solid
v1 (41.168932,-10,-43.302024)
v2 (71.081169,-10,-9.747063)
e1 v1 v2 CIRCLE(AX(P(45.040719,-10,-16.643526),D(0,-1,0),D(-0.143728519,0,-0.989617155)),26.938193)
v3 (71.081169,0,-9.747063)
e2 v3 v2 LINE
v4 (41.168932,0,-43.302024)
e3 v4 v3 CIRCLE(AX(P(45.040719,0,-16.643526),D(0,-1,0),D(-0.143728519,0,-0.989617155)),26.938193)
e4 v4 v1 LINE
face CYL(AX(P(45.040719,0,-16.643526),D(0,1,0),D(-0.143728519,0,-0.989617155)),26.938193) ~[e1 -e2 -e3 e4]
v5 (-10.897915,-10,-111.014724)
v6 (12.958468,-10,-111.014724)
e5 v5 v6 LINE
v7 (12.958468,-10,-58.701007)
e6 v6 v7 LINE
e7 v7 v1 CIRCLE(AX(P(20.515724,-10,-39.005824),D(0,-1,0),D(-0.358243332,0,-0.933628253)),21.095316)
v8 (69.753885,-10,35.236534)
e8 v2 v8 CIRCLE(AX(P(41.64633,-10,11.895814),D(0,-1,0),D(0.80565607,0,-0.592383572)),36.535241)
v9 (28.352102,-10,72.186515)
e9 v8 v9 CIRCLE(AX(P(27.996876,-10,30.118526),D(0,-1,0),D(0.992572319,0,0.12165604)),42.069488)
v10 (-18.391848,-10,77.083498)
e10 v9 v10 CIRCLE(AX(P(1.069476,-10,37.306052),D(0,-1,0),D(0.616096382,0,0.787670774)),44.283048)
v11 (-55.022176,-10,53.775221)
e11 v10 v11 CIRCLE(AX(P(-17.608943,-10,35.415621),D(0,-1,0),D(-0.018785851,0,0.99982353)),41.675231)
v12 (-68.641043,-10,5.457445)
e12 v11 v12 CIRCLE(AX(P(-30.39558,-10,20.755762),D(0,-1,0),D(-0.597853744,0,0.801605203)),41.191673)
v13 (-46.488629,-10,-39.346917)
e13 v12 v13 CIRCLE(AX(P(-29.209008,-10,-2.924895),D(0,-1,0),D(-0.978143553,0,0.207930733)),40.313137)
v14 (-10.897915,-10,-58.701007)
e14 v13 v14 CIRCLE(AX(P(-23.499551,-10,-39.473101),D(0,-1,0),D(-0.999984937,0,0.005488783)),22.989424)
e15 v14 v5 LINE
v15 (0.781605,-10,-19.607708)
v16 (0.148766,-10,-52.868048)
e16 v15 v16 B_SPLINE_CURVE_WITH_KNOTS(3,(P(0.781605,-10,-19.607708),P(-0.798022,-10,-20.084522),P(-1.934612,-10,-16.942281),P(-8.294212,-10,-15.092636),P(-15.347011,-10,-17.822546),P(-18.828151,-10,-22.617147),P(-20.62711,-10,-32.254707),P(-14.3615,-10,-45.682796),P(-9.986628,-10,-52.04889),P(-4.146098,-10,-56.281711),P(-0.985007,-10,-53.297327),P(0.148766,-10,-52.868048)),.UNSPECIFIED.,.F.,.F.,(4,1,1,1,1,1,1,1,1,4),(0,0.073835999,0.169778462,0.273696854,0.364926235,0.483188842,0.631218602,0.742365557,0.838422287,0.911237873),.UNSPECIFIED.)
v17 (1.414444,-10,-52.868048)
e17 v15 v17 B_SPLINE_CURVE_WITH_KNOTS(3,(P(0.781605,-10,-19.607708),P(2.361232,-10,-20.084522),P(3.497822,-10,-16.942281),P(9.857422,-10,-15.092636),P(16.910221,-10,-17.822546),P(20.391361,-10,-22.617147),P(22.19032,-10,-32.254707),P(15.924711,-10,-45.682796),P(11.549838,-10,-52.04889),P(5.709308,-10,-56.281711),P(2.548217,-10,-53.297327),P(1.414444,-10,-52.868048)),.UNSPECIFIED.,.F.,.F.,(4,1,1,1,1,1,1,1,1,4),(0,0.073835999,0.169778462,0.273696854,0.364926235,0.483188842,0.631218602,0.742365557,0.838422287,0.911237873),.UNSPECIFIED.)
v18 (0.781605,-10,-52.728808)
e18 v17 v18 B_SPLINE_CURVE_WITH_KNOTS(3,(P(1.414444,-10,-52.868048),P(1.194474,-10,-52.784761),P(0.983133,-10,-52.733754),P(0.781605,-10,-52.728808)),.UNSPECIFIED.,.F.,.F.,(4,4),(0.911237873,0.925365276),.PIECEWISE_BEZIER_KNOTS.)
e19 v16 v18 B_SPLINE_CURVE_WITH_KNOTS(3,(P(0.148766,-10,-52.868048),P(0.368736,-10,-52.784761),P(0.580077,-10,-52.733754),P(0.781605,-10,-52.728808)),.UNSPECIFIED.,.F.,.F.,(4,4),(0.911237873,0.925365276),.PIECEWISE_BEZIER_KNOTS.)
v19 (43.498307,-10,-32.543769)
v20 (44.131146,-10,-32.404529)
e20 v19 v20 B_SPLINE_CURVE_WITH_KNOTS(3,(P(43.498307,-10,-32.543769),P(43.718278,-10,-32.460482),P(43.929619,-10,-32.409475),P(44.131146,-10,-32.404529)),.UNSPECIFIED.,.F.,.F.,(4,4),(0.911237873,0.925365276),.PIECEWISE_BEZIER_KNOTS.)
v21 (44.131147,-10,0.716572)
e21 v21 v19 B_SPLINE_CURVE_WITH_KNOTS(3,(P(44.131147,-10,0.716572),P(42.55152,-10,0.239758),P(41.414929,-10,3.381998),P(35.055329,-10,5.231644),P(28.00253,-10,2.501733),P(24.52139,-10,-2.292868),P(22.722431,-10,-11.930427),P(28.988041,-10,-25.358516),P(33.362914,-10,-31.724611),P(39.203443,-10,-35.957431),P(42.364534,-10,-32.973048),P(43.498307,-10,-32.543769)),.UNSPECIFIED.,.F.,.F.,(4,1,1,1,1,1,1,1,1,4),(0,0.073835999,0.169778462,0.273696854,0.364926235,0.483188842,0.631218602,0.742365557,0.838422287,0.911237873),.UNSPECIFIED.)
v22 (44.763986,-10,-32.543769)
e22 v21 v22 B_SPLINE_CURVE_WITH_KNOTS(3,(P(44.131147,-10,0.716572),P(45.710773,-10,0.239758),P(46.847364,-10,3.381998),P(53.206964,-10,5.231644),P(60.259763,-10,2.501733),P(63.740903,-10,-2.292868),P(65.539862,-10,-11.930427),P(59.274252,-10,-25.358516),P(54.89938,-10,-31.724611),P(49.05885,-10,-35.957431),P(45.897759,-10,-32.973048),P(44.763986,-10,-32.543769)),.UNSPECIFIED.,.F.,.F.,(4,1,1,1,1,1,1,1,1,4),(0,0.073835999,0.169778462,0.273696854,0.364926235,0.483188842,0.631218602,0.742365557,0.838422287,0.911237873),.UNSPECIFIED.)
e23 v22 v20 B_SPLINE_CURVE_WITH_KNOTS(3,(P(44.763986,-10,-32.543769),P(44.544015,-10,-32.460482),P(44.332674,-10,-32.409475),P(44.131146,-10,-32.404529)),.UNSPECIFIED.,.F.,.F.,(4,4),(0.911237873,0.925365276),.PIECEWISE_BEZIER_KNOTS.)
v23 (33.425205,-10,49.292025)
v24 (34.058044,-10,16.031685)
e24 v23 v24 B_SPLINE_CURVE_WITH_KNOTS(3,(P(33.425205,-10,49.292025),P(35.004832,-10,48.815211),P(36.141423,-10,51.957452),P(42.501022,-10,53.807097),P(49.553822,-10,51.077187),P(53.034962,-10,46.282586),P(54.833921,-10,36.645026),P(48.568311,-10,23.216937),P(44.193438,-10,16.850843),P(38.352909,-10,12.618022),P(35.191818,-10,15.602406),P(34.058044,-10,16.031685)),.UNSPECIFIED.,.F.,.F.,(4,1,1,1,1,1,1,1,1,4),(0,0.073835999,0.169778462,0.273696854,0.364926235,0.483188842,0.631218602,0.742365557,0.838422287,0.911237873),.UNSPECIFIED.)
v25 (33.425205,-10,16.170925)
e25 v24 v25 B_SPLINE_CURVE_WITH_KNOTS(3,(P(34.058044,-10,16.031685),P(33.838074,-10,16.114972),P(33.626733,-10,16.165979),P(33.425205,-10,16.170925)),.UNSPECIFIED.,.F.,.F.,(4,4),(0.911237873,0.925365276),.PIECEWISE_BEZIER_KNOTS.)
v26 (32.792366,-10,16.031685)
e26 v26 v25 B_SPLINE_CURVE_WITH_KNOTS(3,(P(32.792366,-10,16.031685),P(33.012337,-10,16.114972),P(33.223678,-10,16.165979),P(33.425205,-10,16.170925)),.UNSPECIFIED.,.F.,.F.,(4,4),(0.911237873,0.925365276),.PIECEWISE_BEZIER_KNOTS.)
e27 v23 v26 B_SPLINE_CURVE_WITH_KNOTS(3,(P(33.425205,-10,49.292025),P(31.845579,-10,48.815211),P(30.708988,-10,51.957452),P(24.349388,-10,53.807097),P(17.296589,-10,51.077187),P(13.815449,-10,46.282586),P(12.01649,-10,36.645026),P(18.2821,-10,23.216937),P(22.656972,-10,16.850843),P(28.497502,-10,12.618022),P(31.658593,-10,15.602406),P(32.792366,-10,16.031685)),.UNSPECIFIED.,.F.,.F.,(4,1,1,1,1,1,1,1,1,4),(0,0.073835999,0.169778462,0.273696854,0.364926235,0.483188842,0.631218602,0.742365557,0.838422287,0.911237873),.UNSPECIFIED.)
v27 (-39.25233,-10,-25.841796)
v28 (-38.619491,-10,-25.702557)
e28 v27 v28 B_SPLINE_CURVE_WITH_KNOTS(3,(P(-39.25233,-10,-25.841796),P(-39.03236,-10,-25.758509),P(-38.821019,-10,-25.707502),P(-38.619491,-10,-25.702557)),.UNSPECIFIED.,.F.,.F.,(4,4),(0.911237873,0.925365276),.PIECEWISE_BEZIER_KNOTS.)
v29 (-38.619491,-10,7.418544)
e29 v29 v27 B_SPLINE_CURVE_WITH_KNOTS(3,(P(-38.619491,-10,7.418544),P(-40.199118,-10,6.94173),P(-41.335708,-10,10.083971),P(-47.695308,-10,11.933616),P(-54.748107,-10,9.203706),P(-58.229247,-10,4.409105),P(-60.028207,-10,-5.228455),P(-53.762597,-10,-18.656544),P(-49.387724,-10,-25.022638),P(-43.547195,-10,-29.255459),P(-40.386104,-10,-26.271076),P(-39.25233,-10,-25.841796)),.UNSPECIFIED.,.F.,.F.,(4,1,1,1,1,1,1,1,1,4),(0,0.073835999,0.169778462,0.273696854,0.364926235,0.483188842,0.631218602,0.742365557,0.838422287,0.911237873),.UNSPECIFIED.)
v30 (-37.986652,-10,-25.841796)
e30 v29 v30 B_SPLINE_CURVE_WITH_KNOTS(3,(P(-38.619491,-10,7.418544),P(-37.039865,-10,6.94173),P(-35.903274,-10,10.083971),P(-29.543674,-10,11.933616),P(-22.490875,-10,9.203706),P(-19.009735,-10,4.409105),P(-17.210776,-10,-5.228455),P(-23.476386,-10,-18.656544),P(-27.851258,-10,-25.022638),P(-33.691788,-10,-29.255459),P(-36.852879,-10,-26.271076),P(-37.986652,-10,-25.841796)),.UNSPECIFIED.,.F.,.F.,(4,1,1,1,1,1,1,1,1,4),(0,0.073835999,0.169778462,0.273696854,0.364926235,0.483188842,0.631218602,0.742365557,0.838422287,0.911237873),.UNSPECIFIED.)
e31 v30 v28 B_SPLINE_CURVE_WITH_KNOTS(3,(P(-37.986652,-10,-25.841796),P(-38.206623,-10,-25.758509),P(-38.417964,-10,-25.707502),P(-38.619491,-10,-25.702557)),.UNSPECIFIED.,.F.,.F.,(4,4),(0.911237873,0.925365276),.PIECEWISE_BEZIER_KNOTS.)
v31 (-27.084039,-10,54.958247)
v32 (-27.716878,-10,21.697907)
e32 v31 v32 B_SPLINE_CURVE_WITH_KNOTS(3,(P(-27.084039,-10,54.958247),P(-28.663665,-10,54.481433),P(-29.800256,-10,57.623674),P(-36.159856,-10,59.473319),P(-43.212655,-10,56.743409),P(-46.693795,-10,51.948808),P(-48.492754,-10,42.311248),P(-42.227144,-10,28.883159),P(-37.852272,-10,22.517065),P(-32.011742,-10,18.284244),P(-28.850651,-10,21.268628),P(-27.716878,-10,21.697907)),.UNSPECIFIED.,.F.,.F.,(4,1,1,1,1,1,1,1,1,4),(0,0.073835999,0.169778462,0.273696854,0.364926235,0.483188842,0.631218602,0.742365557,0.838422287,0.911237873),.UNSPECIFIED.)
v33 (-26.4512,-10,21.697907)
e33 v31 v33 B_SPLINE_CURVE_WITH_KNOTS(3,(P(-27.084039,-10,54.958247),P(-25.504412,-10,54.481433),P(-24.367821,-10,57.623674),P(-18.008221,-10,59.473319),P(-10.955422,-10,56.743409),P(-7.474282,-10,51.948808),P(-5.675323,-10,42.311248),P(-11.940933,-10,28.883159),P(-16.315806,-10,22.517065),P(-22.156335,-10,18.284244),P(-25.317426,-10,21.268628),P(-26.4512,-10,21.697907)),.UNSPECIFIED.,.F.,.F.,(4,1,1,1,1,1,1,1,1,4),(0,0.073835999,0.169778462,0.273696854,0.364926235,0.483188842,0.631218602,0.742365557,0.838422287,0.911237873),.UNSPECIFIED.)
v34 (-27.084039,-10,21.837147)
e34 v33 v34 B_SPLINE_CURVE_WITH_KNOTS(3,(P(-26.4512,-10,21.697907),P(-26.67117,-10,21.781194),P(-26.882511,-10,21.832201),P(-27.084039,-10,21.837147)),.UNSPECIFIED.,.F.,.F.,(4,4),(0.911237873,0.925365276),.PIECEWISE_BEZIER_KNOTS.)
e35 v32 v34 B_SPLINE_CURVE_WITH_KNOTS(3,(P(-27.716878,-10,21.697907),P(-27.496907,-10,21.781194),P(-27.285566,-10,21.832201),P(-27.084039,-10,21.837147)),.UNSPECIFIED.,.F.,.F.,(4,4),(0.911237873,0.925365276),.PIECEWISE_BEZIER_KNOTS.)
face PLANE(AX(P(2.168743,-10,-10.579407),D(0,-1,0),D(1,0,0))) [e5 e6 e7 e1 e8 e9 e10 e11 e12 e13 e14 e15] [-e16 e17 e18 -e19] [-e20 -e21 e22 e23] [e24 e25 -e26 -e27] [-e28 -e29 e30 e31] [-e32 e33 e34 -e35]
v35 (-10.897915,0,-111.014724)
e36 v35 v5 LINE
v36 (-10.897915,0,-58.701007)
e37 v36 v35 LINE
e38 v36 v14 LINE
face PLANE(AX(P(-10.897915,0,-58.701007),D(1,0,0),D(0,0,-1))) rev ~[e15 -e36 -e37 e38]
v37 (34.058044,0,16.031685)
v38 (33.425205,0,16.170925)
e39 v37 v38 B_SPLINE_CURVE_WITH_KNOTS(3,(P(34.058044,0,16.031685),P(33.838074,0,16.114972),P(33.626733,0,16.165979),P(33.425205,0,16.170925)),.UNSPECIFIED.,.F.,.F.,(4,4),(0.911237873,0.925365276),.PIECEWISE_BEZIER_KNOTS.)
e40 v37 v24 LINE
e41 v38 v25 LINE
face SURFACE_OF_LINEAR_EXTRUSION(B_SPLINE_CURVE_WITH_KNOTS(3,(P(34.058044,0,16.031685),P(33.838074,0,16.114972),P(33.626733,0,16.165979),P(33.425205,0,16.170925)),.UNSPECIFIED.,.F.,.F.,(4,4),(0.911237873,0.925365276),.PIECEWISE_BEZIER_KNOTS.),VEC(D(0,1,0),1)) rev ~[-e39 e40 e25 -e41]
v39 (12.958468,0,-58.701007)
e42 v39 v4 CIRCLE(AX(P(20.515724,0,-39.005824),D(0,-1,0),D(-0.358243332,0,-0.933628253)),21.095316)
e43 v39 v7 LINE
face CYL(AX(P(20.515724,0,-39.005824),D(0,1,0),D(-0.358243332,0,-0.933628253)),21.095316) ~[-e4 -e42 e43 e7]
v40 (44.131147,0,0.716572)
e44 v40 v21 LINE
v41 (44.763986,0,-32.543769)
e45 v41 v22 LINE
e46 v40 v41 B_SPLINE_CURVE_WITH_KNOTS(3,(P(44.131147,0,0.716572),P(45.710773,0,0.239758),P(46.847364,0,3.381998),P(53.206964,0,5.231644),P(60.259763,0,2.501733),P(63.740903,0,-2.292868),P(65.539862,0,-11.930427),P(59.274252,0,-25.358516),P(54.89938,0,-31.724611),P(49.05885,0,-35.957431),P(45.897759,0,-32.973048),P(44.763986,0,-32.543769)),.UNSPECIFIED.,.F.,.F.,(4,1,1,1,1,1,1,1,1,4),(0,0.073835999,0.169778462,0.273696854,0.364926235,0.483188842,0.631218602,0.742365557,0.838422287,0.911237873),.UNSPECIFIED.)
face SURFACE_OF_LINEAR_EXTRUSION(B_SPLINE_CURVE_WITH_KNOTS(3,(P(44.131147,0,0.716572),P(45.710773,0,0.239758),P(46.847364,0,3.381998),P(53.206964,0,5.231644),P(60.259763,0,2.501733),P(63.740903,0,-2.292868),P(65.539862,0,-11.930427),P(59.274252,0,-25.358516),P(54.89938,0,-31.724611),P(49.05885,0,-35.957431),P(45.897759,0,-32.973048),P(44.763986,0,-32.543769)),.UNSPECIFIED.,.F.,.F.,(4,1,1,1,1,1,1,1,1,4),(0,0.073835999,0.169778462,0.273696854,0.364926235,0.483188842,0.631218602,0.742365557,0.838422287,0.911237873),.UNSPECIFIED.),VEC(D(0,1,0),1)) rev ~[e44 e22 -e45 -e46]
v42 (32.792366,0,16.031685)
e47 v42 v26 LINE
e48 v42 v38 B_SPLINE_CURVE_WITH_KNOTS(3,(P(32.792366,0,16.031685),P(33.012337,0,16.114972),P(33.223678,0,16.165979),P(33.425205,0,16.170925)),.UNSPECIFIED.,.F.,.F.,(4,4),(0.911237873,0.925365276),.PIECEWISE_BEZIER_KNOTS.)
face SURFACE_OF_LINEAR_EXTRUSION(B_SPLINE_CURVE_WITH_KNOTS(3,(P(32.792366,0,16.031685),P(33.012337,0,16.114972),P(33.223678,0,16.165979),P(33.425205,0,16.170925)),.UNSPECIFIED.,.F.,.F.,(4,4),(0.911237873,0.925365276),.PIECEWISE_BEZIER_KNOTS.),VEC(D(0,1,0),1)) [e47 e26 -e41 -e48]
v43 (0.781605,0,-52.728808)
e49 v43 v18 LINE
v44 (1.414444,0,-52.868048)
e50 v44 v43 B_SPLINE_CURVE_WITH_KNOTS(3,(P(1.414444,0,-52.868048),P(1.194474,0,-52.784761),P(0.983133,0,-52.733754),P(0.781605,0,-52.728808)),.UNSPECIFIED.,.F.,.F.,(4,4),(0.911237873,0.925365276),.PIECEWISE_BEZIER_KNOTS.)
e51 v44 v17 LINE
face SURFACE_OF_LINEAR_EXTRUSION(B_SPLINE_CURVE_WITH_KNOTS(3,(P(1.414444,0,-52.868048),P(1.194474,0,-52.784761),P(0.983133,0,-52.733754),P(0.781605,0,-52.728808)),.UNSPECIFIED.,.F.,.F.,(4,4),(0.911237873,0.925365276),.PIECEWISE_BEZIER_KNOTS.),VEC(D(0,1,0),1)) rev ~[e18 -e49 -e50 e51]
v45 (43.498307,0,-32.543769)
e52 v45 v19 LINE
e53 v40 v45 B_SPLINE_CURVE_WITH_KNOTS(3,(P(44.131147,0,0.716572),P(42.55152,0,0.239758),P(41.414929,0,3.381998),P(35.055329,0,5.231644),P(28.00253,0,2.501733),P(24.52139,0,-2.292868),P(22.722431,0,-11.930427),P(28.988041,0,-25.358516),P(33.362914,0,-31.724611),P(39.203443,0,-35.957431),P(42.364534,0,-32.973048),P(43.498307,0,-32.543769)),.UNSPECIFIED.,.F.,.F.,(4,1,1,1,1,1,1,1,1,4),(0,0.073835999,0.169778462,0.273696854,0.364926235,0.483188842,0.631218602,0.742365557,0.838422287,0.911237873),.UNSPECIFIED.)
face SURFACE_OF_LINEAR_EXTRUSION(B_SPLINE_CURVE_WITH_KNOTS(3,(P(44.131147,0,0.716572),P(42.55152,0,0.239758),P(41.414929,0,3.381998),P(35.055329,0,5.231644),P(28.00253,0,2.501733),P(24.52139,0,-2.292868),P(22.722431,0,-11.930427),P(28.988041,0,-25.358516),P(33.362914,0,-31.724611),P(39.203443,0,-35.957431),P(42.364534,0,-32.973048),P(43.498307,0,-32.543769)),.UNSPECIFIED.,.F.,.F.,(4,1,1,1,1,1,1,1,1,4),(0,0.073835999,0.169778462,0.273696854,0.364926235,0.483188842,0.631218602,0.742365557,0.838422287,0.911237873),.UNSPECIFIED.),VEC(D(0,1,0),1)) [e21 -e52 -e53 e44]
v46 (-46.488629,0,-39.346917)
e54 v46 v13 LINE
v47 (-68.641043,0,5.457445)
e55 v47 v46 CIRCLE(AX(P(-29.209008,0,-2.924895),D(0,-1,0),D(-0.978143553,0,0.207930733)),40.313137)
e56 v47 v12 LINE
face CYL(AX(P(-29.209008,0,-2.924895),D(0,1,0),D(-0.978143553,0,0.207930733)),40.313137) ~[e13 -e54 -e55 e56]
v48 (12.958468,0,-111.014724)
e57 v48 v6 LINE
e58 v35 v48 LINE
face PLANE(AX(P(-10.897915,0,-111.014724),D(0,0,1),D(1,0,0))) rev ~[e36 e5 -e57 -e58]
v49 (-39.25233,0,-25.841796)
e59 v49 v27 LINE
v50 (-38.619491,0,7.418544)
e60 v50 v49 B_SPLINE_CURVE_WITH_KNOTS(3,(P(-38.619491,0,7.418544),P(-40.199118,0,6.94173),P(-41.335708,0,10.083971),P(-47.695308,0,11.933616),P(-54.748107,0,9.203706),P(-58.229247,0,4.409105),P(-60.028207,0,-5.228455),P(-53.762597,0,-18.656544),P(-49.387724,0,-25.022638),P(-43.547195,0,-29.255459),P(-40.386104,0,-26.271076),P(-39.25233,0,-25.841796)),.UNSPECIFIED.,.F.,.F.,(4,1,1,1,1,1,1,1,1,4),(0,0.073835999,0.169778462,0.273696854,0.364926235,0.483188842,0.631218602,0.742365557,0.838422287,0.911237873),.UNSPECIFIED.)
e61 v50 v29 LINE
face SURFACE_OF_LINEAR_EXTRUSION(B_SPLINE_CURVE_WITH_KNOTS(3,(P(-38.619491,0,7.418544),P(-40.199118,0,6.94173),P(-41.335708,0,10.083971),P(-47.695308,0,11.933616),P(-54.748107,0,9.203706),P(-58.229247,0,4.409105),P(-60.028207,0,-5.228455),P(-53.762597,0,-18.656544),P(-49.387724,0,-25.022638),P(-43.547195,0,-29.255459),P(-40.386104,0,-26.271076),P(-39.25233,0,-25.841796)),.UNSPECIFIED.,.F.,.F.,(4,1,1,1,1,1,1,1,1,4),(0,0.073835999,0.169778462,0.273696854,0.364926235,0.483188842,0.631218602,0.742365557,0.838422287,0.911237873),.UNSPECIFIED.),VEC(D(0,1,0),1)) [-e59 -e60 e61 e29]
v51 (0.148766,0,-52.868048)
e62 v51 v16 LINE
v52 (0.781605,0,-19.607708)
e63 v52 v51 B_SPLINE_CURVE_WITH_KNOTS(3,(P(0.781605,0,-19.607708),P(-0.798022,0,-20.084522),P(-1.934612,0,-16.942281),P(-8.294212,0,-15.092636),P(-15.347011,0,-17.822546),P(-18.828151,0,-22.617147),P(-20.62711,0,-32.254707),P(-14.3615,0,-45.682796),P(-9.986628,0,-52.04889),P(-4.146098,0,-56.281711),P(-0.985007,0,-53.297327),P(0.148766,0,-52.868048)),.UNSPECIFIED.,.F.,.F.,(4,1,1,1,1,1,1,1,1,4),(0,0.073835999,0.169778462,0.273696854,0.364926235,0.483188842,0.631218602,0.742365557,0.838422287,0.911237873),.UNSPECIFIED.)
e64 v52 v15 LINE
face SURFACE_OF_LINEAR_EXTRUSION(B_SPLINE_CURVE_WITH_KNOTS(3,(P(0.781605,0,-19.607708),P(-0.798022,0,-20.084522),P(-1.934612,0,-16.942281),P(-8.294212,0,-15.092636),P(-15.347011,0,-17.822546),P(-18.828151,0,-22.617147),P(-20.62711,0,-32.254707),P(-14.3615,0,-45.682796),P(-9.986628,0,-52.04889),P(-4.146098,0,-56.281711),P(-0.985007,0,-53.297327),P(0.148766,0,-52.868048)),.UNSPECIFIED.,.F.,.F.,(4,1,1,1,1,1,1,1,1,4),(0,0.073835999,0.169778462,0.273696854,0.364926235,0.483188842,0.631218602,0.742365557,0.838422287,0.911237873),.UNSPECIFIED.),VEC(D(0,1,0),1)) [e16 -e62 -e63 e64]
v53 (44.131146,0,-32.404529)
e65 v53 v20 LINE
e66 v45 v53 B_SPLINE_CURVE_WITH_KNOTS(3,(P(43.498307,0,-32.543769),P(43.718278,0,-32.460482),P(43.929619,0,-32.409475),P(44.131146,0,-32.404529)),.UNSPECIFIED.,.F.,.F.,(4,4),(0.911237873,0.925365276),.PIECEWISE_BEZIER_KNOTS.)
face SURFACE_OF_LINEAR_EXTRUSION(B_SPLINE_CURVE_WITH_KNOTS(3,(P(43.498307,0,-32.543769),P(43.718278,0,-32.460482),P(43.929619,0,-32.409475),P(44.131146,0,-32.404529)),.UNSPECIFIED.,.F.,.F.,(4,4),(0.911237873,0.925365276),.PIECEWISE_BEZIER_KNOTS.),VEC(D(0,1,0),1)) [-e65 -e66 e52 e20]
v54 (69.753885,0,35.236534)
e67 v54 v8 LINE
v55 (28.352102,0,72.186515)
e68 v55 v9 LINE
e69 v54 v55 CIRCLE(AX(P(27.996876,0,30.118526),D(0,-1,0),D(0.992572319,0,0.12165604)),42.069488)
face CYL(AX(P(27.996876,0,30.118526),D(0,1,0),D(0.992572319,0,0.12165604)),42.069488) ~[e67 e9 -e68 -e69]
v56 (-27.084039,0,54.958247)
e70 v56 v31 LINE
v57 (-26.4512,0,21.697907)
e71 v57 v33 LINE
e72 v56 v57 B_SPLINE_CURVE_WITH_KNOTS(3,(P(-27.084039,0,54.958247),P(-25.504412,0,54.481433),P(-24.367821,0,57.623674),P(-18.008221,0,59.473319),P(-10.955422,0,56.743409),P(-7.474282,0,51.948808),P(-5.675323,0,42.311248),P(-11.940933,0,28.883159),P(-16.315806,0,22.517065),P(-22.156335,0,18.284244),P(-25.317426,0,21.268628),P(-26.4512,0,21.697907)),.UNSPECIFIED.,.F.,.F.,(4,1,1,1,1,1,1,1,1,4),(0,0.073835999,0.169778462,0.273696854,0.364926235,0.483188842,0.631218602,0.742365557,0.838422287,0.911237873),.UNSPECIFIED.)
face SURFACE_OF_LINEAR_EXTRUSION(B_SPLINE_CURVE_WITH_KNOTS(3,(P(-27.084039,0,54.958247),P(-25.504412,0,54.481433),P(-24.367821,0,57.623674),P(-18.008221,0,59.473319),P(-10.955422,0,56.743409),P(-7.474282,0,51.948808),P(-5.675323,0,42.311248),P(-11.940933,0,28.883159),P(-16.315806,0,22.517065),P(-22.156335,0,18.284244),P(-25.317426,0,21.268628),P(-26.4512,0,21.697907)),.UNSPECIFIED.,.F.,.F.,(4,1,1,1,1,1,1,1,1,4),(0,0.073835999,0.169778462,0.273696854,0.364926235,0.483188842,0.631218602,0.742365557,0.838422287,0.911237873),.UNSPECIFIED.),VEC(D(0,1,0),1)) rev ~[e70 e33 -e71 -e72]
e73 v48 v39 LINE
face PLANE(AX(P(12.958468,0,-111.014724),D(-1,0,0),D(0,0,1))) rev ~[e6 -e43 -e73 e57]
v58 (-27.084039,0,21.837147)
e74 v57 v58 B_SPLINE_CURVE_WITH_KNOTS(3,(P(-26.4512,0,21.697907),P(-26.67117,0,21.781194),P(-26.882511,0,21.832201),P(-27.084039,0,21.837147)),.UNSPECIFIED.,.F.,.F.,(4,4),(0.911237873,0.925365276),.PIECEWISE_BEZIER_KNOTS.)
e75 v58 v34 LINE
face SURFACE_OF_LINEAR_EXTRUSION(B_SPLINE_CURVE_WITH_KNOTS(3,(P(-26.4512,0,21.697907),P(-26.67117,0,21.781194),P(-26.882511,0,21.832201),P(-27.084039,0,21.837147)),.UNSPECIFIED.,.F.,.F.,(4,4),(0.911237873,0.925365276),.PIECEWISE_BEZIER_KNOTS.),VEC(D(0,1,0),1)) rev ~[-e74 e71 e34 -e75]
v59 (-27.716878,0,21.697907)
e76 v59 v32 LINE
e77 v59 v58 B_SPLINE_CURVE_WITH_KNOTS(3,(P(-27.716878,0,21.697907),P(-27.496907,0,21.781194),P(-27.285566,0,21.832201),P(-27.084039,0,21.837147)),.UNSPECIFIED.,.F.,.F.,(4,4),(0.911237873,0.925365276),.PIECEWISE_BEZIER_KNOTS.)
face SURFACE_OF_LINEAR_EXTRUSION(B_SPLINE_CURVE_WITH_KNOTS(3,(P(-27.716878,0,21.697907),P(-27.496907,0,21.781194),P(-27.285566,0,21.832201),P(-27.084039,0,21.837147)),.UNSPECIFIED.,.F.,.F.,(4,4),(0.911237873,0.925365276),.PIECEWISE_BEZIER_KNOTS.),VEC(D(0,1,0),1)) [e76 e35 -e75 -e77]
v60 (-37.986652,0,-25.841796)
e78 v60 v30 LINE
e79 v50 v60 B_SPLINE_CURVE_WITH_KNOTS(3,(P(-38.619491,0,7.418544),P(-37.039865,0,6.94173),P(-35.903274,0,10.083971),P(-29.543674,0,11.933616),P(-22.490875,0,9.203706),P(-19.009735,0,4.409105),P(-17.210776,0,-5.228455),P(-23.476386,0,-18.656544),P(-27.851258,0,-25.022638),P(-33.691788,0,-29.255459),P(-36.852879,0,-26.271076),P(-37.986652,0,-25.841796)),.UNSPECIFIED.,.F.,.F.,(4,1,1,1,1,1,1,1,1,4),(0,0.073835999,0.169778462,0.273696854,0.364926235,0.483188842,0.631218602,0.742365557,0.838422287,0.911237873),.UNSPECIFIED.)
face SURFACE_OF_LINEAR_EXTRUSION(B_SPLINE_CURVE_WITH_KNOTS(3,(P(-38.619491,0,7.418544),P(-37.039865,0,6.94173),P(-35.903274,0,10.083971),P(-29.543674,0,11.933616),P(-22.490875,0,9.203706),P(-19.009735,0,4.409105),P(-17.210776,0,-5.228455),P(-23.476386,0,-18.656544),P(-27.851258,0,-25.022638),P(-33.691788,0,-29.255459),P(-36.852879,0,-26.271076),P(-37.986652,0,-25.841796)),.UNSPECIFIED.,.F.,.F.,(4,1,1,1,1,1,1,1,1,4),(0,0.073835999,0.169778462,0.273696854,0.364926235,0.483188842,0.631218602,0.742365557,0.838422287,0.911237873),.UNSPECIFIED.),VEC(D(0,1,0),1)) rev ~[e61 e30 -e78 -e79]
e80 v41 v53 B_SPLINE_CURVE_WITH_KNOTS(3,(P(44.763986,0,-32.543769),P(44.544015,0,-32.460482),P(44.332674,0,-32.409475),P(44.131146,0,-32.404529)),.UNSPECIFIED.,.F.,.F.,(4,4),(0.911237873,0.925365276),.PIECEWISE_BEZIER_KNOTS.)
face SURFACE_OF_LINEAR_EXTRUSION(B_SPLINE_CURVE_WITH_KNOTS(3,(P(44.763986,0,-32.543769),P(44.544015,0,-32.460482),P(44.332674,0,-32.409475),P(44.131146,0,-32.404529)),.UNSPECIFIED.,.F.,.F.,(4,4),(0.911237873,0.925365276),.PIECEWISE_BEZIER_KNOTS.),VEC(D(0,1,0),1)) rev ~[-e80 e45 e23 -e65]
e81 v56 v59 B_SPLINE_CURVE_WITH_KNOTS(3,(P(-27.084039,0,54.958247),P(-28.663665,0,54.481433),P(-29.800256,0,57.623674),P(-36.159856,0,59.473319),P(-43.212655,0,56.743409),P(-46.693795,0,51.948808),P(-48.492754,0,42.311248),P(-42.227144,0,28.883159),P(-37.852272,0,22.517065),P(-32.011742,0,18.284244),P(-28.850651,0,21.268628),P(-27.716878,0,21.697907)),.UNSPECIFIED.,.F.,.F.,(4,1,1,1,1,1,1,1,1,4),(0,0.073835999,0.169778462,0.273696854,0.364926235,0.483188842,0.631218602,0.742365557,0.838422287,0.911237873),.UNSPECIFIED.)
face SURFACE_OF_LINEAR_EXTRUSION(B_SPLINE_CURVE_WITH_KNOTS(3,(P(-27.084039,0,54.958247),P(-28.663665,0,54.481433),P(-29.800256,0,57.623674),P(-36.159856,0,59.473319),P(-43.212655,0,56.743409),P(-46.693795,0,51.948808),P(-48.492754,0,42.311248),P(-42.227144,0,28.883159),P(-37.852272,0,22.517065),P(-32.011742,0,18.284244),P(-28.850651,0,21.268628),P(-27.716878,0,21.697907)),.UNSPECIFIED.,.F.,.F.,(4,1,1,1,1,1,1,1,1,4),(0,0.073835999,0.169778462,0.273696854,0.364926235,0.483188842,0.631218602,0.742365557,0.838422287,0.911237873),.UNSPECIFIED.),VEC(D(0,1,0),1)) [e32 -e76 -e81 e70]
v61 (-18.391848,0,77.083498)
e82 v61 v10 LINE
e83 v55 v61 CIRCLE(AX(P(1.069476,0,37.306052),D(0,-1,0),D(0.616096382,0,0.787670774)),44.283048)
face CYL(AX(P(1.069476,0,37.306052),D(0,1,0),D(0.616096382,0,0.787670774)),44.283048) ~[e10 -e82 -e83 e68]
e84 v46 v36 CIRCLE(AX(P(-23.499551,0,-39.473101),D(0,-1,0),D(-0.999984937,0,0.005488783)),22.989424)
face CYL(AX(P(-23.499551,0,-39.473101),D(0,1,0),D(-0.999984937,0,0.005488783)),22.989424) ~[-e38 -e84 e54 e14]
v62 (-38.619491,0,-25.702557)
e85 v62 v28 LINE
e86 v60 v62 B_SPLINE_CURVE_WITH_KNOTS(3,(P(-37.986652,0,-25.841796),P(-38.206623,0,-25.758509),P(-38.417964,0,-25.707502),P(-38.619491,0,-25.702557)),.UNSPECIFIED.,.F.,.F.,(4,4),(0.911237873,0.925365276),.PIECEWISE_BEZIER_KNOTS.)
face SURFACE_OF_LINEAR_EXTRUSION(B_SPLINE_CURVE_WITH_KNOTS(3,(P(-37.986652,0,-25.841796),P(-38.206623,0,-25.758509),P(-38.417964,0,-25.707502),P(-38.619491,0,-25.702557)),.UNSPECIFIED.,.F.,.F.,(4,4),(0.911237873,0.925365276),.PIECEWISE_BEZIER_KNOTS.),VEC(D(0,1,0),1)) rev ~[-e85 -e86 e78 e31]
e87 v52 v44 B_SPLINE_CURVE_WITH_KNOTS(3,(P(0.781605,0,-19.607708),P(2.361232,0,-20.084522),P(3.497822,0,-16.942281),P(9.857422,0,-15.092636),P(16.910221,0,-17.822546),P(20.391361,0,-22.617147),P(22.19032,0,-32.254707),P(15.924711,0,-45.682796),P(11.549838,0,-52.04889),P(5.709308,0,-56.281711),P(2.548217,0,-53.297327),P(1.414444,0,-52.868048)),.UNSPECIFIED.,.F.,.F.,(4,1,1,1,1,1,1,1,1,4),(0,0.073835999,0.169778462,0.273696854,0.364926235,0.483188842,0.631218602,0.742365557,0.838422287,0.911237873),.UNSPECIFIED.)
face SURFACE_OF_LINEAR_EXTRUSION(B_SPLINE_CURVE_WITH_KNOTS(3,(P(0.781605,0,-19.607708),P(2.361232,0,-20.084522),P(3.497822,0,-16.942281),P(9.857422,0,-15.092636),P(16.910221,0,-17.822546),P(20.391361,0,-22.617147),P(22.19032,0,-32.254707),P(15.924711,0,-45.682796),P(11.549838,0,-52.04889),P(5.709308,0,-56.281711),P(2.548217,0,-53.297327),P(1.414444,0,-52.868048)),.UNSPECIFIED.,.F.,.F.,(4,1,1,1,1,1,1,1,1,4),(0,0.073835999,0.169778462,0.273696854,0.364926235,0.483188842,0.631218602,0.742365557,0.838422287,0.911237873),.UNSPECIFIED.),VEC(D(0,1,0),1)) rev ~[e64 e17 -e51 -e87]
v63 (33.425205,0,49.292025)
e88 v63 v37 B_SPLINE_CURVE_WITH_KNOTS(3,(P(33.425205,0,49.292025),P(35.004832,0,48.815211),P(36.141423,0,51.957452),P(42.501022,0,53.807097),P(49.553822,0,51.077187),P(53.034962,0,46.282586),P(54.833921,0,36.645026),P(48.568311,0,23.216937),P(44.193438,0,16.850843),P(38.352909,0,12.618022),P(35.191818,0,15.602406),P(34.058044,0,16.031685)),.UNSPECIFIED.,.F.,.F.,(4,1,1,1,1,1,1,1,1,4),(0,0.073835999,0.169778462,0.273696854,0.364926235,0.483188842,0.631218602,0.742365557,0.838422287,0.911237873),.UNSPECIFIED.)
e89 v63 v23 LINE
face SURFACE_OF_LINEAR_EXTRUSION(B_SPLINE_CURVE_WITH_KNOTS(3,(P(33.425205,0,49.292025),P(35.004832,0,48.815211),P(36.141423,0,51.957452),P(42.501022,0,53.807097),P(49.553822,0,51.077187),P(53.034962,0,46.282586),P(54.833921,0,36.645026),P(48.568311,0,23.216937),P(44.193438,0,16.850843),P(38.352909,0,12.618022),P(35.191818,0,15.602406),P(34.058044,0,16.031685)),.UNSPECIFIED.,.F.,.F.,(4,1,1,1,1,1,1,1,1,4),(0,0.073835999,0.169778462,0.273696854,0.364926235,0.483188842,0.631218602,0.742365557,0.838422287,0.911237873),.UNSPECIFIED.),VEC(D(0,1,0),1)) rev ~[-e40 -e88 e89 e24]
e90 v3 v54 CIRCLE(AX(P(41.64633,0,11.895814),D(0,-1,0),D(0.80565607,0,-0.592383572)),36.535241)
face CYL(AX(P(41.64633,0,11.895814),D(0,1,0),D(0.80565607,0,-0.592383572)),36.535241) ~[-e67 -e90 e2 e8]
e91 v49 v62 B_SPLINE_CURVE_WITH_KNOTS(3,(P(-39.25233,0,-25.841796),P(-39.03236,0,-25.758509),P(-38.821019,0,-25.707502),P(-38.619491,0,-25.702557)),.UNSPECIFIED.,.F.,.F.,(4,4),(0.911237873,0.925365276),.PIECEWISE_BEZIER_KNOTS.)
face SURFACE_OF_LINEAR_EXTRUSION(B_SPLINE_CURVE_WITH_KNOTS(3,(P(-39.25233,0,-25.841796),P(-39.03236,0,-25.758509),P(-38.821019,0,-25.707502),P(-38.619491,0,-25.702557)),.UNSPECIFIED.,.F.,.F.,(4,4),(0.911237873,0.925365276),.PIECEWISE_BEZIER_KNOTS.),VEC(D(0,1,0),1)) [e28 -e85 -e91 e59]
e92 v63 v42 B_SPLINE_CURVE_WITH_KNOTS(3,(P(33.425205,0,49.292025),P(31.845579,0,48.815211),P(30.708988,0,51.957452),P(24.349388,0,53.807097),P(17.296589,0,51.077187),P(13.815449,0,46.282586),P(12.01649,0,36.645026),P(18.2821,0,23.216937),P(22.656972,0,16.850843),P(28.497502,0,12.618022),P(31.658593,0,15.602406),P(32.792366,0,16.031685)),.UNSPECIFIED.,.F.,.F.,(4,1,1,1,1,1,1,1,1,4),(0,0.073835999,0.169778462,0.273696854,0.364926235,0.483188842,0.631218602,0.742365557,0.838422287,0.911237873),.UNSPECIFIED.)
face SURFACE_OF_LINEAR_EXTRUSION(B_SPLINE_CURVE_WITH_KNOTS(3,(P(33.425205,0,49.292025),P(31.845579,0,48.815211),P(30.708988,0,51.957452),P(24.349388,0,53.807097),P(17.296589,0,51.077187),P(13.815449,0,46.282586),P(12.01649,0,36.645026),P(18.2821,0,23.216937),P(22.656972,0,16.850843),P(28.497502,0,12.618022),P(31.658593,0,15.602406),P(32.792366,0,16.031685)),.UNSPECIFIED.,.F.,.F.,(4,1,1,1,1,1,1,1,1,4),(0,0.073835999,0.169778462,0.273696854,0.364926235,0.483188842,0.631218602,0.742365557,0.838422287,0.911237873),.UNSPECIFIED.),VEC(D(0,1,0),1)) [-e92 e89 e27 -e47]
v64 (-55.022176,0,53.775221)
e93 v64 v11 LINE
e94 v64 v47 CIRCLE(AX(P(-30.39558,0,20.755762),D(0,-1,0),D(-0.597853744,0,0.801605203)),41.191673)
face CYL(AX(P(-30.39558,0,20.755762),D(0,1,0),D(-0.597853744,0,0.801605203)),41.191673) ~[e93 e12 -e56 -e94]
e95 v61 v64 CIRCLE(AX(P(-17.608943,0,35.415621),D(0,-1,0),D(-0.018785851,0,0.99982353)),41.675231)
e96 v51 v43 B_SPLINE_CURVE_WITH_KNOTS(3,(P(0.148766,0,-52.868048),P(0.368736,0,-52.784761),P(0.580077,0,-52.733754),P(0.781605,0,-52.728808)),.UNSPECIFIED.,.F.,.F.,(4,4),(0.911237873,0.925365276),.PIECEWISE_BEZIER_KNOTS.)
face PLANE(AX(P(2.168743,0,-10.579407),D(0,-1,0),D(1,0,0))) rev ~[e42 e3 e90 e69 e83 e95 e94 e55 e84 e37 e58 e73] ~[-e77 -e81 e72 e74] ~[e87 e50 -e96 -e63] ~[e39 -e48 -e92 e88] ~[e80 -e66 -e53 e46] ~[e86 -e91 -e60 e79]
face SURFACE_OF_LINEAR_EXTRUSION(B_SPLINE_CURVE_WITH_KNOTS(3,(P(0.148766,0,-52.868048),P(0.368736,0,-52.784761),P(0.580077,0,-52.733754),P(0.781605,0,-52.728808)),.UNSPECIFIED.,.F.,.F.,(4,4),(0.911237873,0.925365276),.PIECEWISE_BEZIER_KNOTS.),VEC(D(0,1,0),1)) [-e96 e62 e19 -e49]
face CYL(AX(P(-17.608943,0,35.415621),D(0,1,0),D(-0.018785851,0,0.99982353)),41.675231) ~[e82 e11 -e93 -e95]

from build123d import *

# Parameters (mm, degrees)
F1_DEPTH = 10


with BuildPart() as f1:
    # F0 (on Front) → F1 (new body)
    with BuildSketch(Plane.XZ):
        with BuildLine():
            ThreePointArc((-55.0221759697, 53.7752209797), (-70.04246905, 31.9306491766), (-68.6410428362, 5.4574452519))
            ThreePointArc((-68.6410428362, 5.4574452519), (-65.3463944848, -20.7921357055), (-46.4886293933, -39.346916867))
            ThreePointArc((-46.4886293933, -39.346916867), (-34.4822621565, -59.6694789964), (-10.8979146439, -58.7010069363))
            Line((-10.8979146439, -58.7010069363), (-10.8979146439, -111.0147237778))
            Line((-10.8979146439, -111.0147237778), (12.958467938, -111.0147237778))
            Line((12.958467938, -111.0147237778), (12.958467938, -58.7010069363))
            ThreePointArc((12.958467938, -58.7010069363), (30.6230560256, -57.5221463701), (41.1689324294, -43.3020241689))
            ThreePointArc((41.1689324294, -43.3020241689), (65.1490821133, -34.5689265367), (71.0811689496, -9.7470628098))
            ThreePointArc((71.0811689496, -9.7470628098), (78.1656779108, 12.9733519988), (69.7538852692, 35.2365337312))
            ThreePointArc((69.7538852692, 35.2365337312), (56.0091120493, 61.5057285022), (28.3521022648, 72.1865147352))
            ThreePointArc((28.3521022648, 72.1865147352), (5.683401235, 81.348077967), (-18.3918476105, 77.0834982395))
            ThreePointArc((-18.3918476105, 77.0834982395), (-39.9820334942, 70.5762488055), (-55.0221759697, 53.7752209797))
        make_face()
        with BuildLine():
            add(Edge.make_bspline(
                [(0.7816050202, -19.6077078231), (-0.7980215026, -20.0845219521), (-1.9346121315, -16.9422810991), (-8.2942120837, -15.0926358593), (-15.3470111495, -17.82254635), (-18.8281511885, -22.6171471508), (-20.6271102372, -32.254706591), (-14.3615004988, -45.6827956415), (-9.9866279863, -52.0488902731), (-4.1460982187, -56.2817105885), (-0.985007439, -53.297327387), (0.1487659705, -52.8680482143)],
                knots=[0, 0, 0, 0, 0.0738359991, 0.1697784616, 0.2736968542, 0.3649262349, 0.4831888416, 0.631218602, 0.7423655569, 0.8384222869, 0.9112378734, 0.9112378734, 0.9112378734, 0.9112378734], degree=3))
            add(Edge.make_bspline(
                [(0.7816050202, -19.6077078231), (2.361231543, -20.0845219521), (3.4978221718, -16.9422810991), (9.857422124, -15.0926358593), (16.9102211898, -17.82254635), (20.3913612288, -22.6171471508), (22.1903202776, -32.254706591), (15.9247105391, -45.6827956415), (11.5498380267, -52.0488902731), (5.7093082591, -56.2817105885), (2.5482174793, -53.297327387), (1.4144440698, -52.8680482143)],
                knots=[0, 0, 0, 0, 0.0738359991, 0.1697784616, 0.2736968542, 0.3649262349, 0.4831888416, 0.631218602, 0.7423655569, 0.8384222869, 0.9112378734, 0.9112378734, 0.9112378734, 0.9112378734], degree=3))
            add(Edge.make_bspline(
                [(1.4144440698, -52.8680482143), (1.1944736707, -52.7847611041), (0.9831327016, -52.7337540842), (0.7816050019, -52.7288084496)],
                knots=[0.9112378734, 0.9112378734, 0.9112378734, 0.9112378734, 0.9253652762, 0.9253652762, 0.9253652762, 0.9253652762], degree=3))
            add(Edge.make_bspline(
                [(0.1487659705, -52.8680482143), (0.3687363696, -52.7847611041), (0.5800773196, -52.7337540888), (0.7816050019, -52.7288084505)],
                knots=[0.9112378734, 0.9112378734, 0.9112378734, 0.9112378734, 0.9253652762, 0.9253652762, 0.9253652762, 0.9253652762], degree=3))
        make_face(mode=Mode.SUBTRACT)
        with BuildLine():
            add(Edge.make_bspline(
                [(44.1311465162, 0.7165716961), (42.5515199934, 0.2397575672), (41.4149293645, 3.3819984201), (35.0553294123, 5.2316436599), (28.0025303465, 2.5017331693), (24.5213903075, -2.2928676316), (22.7224312588, -11.9304270717), (28.9880409972, -25.3585161222), (33.3629135097, -31.7246107538), (39.2034432773, -35.9574310693), (42.364534057, -32.9730478678), (43.4983074665, -32.5437686951)],
                knots=[0, 0, 0, 0, 0.0738359991, 0.1697784616, 0.2736968542, 0.3649262349, 0.4831888416, 0.631218602, 0.7423655569, 0.8384222869, 0.9112378734, 0.9112378734, 0.9112378734, 0.9112378734], degree=3))
            add(Edge.make_bspline(
                [(44.1311465162, 0.7165716961), (45.710773039, 0.2397575672), (46.8473636678, 3.3819984201), (53.20696362, 5.2316436599), (60.2597626858, 2.5017331693), (63.7409027248, -2.2928676316), (65.5398617736, -11.9304270717), (59.2742520351, -25.3585161222), (54.8993795226, -31.7246107538), (49.0588497551, -35.9574310693), (45.8977589753, -32.9730478678), (44.7639855658, -32.5437686951)],
                knots=[0, 0, 0, 0, 0.0738359991, 0.1697784616, 0.2736968542, 0.3649262349, 0.4831888416, 0.631218602, 0.7423655569, 0.8384222869, 0.9112378734, 0.9112378734, 0.9112378734, 0.9112378734], degree=3))
            add(Edge.make_bspline(
                [(44.7639855658, -32.5437686951), (44.5440151667, -32.4604815849), (44.3326741976, -32.409474565), (44.1311464979, -32.4045289303)],
                knots=[0.9112378734, 0.9112378734, 0.9112378734, 0.9112378734, 0.9253652762, 0.9253652762, 0.9253652762, 0.9253652762], degree=3))
            add(Edge.make_bspline(
                [(43.4983074665, -32.5437686951), (43.7182778656, -32.4604815849), (43.9296188156, -32.4094745696), (44.1311464979, -32.4045289312)],
                knots=[0.9112378734, 0.9112378734, 0.9112378734, 0.9112378734, 0.9253652762, 0.9253652762, 0.9253652762, 0.9253652762], degree=3))
        make_face(mode=Mode.SUBTRACT)
        with BuildLine():
            add(Edge.make_bspline(
                [(-38.6194912717, 7.4185440317), (-40.1991177945, 6.9417299027), (-41.3357084233, 10.0839707557), (-47.6953083755, 11.9336159955), (-54.7481074413, 9.2037055048), (-58.2292474803, 4.409104704), (-60.0282065291, -5.2284547362), (-53.7625967907, -18.6565437866), (-49.3877242782, -25.0226384183), (-43.5471945106, -29.2554587337), (-40.3861037308, -26.2710755322), (-39.2523303213, -25.8417963595)],
                knots=[0, 0, 0, 0, 0.0738359991, 0.1697784616, 0.2736968542, 0.3649262349, 0.4831888416, 0.631218602, 0.7423655569, 0.8384222869, 0.9112378734, 0.9112378734, 0.9112378734, 0.9112378734], degree=3))
            add(Edge.make_bspline(
                [(-38.6194912717, 7.4185440317), (-37.0398647489, 6.9417299027), (-35.90327412, 10.0839707557), (-29.5436741679, 11.9336159955), (-22.490875102, 9.2037055048), (-19.009735063, 4.409104704), (-17.2107760143, -5.2284547362), (-23.4763857527, -18.6565437866), (-27.8512582652, -25.0226384183), (-33.6917880328, -29.2554587337), (-36.8528788125, -26.2710755322), (-37.986652222, -25.8417963595)],
                knots=[0, 0, 0, 0, 0.0738359991, 0.1697784616, 0.2736968542, 0.3649262349, 0.4831888416, 0.631218602, 0.7423655569, 0.8384222869, 0.9112378734, 0.9112378734, 0.9112378734, 0.9112378734], degree=3))
            add(Edge.make_bspline(
                [(-37.986652222, -25.8417963595), (-38.2066226211, -25.7585092493), (-38.4179635903, -25.7075022294), (-38.6194912899, -25.7025565948)],
                knots=[0.9112378734, 0.9112378734, 0.9112378734, 0.9112378734, 0.9253652762, 0.9253652762, 0.9253652762, 0.9253652762], degree=3))
            add(Edge.make_bspline(
                [(-39.2523303213, -25.8417963595), (-39.0323599222, -25.7585092493), (-38.8210189722, -25.707502234), (-38.6194912899, -25.7025565957)],
                knots=[0.9112378734, 0.9112378734, 0.9112378734, 0.9112378734, 0.9253652762, 0.9253652762, 0.9253652762, 0.9253652762], degree=3))
        make_face(mode=Mode.SUBTRACT)
        with BuildLine():
            add(Edge.make_bspline(
                [(-27.0840385929, 54.9582471489), (-28.6636651157, 54.48143302), (-29.8002557445, 57.623673873), (-36.1598556967, 59.4733191128), (-43.2126547625, 56.7434086221), (-46.6937948015, 51.9488078213), (-48.4927538503, 42.3112483811), (-42.2271441119, 28.8831593306), (-37.8522715994, 22.517064699), (-32.0117418318, 18.2842443835), (-28.850651052, 21.2686275851), (-27.7168776425, 21.6979067577)],
                knots=[0, 0, 0, 0, 0.0738359991, 0.1697784616, 0.2736968542, 0.3649262349, 0.4831888416, 0.631218602, 0.7423655569, 0.8384222869, 0.9112378734, 0.9112378734, 0.9112378734, 0.9112378734], degree=3))
            add(Edge.make_bspline(
                [(-27.0840385929, 54.9582471489), (-25.5044120701, 54.48143302), (-24.3678214412, 57.623673873), (-18.0082214891, 59.4733191128), (-10.9554224232, 56.7434086221), (-7.4742823842, 51.9488078213), (-5.6753233355, 42.3112483811), (-11.9409330739, 28.8831593306), (-16.3158055864, 22.517064699), (-22.156335354, 18.2842443835), (-25.3174261337, 21.2686275851), (-26.4511995432, 21.6979067577)],
                knots=[0, 0, 0, 0, 0.0738359991, 0.1697784616, 0.2736968542, 0.3649262349, 0.4831888416, 0.631218602, 0.7423655569, 0.8384222869, 0.9112378734, 0.9112378734, 0.9112378734, 0.9112378734], degree=3))
            add(Edge.make_bspline(
                [(-26.4511995432, 21.6979067577), (-26.6711699423, 21.781193868), (-26.8825108924, 21.8322008832), (-27.0840385746, 21.8371465216)],
                knots=[0.9112378734, 0.9112378734, 0.9112378734, 0.9112378734, 0.9253652762, 0.9253652762, 0.9253652762, 0.9253652762], degree=3))
            add(Edge.make_bspline(
                [(-27.7168776425, 21.6979067577), (-27.4969072434, 21.781193868), (-27.2855662743, 21.8322008878), (-27.0840385746, 21.8371465225)],
                knots=[0.9112378734, 0.9112378734, 0.9112378734, 0.9112378734, 0.9253652762, 0.9253652762, 0.9253652762, 0.9253652762], degree=3))
        make_face(mode=Mode.SUBTRACT)
        with BuildLine():
            add(Edge.make_bspline(
                [(33.4252053872, 49.2920251563), (31.8455788644, 48.8152110274), (30.7089882355, 51.9574518803), (24.3493882834, 53.8070971202), (17.2965892175, 51.0771866295), (13.8154491785, 46.2825858287), (12.0164901298, 36.6450263885), (18.2820998682, 23.216937338), (22.6569723807, 16.8508427064), (28.4975021483, 12.6180223909), (31.658592928, 15.6024055924), (32.7923663375, 16.0316847651)],
                knots=[0, 0, 0, 0, 0.0738359991, 0.1697784616, 0.2736968542, 0.3649262349, 0.4831888416, 0.631218602, 0.7423655569, 0.8384222869, 0.9112378734, 0.9112378734, 0.9112378734, 0.9112378734], degree=3))
            add(Edge.make_bspline(
                [(33.4252053872, 49.2920251563), (35.00483191, 48.8152110274), (36.1414225388, 51.9574518803), (42.501022491, 53.8070971202), (49.5538215568, 51.0771866295), (53.0349615958, 46.2825858287), (54.8339206446, 36.6450263885), (48.5683109062, 23.216937338), (44.1934383937, 16.8508427064), (38.3529086261, 12.6180223909), (35.1918178463, 15.6024055924), (34.0580444368, 16.0316847651)],
                knots=[0, 0, 0, 0, 0.0738359991, 0.1697784616, 0.2736968542, 0.3649262349, 0.4831888416, 0.631218602, 0.7423655569, 0.8384222869, 0.9112378734, 0.9112378734, 0.9112378734, 0.9112378734], degree=3))
            add(Edge.make_bspline(
                [(34.0580444368, 16.0316847651), (33.8380740377, 16.1149718753), (33.6267330686, 16.1659788952), (33.4252053689, 16.1709245299)],
                knots=[0.9112378734, 0.9112378734, 0.9112378734, 0.9112378734, 0.9253652762, 0.9253652762, 0.9253652762, 0.9253652762], degree=3))
            add(Edge.make_bspline(
                [(32.7923663375, 16.0316847651), (33.0123367366, 16.1149718753), (33.2236776867, 16.1659788906), (33.4252053689, 16.170924529)],
                knots=[0.9112378734, 0.9112378734, 0.9112378734, 0.9112378734, 0.9253652762, 0.9253652762, 0.9253652762, 0.9253652762], degree=3))
        make_face(mode=Mode.SUBTRACT)
    extrude(amount=F1_DEPTH)


solid = f1.part
